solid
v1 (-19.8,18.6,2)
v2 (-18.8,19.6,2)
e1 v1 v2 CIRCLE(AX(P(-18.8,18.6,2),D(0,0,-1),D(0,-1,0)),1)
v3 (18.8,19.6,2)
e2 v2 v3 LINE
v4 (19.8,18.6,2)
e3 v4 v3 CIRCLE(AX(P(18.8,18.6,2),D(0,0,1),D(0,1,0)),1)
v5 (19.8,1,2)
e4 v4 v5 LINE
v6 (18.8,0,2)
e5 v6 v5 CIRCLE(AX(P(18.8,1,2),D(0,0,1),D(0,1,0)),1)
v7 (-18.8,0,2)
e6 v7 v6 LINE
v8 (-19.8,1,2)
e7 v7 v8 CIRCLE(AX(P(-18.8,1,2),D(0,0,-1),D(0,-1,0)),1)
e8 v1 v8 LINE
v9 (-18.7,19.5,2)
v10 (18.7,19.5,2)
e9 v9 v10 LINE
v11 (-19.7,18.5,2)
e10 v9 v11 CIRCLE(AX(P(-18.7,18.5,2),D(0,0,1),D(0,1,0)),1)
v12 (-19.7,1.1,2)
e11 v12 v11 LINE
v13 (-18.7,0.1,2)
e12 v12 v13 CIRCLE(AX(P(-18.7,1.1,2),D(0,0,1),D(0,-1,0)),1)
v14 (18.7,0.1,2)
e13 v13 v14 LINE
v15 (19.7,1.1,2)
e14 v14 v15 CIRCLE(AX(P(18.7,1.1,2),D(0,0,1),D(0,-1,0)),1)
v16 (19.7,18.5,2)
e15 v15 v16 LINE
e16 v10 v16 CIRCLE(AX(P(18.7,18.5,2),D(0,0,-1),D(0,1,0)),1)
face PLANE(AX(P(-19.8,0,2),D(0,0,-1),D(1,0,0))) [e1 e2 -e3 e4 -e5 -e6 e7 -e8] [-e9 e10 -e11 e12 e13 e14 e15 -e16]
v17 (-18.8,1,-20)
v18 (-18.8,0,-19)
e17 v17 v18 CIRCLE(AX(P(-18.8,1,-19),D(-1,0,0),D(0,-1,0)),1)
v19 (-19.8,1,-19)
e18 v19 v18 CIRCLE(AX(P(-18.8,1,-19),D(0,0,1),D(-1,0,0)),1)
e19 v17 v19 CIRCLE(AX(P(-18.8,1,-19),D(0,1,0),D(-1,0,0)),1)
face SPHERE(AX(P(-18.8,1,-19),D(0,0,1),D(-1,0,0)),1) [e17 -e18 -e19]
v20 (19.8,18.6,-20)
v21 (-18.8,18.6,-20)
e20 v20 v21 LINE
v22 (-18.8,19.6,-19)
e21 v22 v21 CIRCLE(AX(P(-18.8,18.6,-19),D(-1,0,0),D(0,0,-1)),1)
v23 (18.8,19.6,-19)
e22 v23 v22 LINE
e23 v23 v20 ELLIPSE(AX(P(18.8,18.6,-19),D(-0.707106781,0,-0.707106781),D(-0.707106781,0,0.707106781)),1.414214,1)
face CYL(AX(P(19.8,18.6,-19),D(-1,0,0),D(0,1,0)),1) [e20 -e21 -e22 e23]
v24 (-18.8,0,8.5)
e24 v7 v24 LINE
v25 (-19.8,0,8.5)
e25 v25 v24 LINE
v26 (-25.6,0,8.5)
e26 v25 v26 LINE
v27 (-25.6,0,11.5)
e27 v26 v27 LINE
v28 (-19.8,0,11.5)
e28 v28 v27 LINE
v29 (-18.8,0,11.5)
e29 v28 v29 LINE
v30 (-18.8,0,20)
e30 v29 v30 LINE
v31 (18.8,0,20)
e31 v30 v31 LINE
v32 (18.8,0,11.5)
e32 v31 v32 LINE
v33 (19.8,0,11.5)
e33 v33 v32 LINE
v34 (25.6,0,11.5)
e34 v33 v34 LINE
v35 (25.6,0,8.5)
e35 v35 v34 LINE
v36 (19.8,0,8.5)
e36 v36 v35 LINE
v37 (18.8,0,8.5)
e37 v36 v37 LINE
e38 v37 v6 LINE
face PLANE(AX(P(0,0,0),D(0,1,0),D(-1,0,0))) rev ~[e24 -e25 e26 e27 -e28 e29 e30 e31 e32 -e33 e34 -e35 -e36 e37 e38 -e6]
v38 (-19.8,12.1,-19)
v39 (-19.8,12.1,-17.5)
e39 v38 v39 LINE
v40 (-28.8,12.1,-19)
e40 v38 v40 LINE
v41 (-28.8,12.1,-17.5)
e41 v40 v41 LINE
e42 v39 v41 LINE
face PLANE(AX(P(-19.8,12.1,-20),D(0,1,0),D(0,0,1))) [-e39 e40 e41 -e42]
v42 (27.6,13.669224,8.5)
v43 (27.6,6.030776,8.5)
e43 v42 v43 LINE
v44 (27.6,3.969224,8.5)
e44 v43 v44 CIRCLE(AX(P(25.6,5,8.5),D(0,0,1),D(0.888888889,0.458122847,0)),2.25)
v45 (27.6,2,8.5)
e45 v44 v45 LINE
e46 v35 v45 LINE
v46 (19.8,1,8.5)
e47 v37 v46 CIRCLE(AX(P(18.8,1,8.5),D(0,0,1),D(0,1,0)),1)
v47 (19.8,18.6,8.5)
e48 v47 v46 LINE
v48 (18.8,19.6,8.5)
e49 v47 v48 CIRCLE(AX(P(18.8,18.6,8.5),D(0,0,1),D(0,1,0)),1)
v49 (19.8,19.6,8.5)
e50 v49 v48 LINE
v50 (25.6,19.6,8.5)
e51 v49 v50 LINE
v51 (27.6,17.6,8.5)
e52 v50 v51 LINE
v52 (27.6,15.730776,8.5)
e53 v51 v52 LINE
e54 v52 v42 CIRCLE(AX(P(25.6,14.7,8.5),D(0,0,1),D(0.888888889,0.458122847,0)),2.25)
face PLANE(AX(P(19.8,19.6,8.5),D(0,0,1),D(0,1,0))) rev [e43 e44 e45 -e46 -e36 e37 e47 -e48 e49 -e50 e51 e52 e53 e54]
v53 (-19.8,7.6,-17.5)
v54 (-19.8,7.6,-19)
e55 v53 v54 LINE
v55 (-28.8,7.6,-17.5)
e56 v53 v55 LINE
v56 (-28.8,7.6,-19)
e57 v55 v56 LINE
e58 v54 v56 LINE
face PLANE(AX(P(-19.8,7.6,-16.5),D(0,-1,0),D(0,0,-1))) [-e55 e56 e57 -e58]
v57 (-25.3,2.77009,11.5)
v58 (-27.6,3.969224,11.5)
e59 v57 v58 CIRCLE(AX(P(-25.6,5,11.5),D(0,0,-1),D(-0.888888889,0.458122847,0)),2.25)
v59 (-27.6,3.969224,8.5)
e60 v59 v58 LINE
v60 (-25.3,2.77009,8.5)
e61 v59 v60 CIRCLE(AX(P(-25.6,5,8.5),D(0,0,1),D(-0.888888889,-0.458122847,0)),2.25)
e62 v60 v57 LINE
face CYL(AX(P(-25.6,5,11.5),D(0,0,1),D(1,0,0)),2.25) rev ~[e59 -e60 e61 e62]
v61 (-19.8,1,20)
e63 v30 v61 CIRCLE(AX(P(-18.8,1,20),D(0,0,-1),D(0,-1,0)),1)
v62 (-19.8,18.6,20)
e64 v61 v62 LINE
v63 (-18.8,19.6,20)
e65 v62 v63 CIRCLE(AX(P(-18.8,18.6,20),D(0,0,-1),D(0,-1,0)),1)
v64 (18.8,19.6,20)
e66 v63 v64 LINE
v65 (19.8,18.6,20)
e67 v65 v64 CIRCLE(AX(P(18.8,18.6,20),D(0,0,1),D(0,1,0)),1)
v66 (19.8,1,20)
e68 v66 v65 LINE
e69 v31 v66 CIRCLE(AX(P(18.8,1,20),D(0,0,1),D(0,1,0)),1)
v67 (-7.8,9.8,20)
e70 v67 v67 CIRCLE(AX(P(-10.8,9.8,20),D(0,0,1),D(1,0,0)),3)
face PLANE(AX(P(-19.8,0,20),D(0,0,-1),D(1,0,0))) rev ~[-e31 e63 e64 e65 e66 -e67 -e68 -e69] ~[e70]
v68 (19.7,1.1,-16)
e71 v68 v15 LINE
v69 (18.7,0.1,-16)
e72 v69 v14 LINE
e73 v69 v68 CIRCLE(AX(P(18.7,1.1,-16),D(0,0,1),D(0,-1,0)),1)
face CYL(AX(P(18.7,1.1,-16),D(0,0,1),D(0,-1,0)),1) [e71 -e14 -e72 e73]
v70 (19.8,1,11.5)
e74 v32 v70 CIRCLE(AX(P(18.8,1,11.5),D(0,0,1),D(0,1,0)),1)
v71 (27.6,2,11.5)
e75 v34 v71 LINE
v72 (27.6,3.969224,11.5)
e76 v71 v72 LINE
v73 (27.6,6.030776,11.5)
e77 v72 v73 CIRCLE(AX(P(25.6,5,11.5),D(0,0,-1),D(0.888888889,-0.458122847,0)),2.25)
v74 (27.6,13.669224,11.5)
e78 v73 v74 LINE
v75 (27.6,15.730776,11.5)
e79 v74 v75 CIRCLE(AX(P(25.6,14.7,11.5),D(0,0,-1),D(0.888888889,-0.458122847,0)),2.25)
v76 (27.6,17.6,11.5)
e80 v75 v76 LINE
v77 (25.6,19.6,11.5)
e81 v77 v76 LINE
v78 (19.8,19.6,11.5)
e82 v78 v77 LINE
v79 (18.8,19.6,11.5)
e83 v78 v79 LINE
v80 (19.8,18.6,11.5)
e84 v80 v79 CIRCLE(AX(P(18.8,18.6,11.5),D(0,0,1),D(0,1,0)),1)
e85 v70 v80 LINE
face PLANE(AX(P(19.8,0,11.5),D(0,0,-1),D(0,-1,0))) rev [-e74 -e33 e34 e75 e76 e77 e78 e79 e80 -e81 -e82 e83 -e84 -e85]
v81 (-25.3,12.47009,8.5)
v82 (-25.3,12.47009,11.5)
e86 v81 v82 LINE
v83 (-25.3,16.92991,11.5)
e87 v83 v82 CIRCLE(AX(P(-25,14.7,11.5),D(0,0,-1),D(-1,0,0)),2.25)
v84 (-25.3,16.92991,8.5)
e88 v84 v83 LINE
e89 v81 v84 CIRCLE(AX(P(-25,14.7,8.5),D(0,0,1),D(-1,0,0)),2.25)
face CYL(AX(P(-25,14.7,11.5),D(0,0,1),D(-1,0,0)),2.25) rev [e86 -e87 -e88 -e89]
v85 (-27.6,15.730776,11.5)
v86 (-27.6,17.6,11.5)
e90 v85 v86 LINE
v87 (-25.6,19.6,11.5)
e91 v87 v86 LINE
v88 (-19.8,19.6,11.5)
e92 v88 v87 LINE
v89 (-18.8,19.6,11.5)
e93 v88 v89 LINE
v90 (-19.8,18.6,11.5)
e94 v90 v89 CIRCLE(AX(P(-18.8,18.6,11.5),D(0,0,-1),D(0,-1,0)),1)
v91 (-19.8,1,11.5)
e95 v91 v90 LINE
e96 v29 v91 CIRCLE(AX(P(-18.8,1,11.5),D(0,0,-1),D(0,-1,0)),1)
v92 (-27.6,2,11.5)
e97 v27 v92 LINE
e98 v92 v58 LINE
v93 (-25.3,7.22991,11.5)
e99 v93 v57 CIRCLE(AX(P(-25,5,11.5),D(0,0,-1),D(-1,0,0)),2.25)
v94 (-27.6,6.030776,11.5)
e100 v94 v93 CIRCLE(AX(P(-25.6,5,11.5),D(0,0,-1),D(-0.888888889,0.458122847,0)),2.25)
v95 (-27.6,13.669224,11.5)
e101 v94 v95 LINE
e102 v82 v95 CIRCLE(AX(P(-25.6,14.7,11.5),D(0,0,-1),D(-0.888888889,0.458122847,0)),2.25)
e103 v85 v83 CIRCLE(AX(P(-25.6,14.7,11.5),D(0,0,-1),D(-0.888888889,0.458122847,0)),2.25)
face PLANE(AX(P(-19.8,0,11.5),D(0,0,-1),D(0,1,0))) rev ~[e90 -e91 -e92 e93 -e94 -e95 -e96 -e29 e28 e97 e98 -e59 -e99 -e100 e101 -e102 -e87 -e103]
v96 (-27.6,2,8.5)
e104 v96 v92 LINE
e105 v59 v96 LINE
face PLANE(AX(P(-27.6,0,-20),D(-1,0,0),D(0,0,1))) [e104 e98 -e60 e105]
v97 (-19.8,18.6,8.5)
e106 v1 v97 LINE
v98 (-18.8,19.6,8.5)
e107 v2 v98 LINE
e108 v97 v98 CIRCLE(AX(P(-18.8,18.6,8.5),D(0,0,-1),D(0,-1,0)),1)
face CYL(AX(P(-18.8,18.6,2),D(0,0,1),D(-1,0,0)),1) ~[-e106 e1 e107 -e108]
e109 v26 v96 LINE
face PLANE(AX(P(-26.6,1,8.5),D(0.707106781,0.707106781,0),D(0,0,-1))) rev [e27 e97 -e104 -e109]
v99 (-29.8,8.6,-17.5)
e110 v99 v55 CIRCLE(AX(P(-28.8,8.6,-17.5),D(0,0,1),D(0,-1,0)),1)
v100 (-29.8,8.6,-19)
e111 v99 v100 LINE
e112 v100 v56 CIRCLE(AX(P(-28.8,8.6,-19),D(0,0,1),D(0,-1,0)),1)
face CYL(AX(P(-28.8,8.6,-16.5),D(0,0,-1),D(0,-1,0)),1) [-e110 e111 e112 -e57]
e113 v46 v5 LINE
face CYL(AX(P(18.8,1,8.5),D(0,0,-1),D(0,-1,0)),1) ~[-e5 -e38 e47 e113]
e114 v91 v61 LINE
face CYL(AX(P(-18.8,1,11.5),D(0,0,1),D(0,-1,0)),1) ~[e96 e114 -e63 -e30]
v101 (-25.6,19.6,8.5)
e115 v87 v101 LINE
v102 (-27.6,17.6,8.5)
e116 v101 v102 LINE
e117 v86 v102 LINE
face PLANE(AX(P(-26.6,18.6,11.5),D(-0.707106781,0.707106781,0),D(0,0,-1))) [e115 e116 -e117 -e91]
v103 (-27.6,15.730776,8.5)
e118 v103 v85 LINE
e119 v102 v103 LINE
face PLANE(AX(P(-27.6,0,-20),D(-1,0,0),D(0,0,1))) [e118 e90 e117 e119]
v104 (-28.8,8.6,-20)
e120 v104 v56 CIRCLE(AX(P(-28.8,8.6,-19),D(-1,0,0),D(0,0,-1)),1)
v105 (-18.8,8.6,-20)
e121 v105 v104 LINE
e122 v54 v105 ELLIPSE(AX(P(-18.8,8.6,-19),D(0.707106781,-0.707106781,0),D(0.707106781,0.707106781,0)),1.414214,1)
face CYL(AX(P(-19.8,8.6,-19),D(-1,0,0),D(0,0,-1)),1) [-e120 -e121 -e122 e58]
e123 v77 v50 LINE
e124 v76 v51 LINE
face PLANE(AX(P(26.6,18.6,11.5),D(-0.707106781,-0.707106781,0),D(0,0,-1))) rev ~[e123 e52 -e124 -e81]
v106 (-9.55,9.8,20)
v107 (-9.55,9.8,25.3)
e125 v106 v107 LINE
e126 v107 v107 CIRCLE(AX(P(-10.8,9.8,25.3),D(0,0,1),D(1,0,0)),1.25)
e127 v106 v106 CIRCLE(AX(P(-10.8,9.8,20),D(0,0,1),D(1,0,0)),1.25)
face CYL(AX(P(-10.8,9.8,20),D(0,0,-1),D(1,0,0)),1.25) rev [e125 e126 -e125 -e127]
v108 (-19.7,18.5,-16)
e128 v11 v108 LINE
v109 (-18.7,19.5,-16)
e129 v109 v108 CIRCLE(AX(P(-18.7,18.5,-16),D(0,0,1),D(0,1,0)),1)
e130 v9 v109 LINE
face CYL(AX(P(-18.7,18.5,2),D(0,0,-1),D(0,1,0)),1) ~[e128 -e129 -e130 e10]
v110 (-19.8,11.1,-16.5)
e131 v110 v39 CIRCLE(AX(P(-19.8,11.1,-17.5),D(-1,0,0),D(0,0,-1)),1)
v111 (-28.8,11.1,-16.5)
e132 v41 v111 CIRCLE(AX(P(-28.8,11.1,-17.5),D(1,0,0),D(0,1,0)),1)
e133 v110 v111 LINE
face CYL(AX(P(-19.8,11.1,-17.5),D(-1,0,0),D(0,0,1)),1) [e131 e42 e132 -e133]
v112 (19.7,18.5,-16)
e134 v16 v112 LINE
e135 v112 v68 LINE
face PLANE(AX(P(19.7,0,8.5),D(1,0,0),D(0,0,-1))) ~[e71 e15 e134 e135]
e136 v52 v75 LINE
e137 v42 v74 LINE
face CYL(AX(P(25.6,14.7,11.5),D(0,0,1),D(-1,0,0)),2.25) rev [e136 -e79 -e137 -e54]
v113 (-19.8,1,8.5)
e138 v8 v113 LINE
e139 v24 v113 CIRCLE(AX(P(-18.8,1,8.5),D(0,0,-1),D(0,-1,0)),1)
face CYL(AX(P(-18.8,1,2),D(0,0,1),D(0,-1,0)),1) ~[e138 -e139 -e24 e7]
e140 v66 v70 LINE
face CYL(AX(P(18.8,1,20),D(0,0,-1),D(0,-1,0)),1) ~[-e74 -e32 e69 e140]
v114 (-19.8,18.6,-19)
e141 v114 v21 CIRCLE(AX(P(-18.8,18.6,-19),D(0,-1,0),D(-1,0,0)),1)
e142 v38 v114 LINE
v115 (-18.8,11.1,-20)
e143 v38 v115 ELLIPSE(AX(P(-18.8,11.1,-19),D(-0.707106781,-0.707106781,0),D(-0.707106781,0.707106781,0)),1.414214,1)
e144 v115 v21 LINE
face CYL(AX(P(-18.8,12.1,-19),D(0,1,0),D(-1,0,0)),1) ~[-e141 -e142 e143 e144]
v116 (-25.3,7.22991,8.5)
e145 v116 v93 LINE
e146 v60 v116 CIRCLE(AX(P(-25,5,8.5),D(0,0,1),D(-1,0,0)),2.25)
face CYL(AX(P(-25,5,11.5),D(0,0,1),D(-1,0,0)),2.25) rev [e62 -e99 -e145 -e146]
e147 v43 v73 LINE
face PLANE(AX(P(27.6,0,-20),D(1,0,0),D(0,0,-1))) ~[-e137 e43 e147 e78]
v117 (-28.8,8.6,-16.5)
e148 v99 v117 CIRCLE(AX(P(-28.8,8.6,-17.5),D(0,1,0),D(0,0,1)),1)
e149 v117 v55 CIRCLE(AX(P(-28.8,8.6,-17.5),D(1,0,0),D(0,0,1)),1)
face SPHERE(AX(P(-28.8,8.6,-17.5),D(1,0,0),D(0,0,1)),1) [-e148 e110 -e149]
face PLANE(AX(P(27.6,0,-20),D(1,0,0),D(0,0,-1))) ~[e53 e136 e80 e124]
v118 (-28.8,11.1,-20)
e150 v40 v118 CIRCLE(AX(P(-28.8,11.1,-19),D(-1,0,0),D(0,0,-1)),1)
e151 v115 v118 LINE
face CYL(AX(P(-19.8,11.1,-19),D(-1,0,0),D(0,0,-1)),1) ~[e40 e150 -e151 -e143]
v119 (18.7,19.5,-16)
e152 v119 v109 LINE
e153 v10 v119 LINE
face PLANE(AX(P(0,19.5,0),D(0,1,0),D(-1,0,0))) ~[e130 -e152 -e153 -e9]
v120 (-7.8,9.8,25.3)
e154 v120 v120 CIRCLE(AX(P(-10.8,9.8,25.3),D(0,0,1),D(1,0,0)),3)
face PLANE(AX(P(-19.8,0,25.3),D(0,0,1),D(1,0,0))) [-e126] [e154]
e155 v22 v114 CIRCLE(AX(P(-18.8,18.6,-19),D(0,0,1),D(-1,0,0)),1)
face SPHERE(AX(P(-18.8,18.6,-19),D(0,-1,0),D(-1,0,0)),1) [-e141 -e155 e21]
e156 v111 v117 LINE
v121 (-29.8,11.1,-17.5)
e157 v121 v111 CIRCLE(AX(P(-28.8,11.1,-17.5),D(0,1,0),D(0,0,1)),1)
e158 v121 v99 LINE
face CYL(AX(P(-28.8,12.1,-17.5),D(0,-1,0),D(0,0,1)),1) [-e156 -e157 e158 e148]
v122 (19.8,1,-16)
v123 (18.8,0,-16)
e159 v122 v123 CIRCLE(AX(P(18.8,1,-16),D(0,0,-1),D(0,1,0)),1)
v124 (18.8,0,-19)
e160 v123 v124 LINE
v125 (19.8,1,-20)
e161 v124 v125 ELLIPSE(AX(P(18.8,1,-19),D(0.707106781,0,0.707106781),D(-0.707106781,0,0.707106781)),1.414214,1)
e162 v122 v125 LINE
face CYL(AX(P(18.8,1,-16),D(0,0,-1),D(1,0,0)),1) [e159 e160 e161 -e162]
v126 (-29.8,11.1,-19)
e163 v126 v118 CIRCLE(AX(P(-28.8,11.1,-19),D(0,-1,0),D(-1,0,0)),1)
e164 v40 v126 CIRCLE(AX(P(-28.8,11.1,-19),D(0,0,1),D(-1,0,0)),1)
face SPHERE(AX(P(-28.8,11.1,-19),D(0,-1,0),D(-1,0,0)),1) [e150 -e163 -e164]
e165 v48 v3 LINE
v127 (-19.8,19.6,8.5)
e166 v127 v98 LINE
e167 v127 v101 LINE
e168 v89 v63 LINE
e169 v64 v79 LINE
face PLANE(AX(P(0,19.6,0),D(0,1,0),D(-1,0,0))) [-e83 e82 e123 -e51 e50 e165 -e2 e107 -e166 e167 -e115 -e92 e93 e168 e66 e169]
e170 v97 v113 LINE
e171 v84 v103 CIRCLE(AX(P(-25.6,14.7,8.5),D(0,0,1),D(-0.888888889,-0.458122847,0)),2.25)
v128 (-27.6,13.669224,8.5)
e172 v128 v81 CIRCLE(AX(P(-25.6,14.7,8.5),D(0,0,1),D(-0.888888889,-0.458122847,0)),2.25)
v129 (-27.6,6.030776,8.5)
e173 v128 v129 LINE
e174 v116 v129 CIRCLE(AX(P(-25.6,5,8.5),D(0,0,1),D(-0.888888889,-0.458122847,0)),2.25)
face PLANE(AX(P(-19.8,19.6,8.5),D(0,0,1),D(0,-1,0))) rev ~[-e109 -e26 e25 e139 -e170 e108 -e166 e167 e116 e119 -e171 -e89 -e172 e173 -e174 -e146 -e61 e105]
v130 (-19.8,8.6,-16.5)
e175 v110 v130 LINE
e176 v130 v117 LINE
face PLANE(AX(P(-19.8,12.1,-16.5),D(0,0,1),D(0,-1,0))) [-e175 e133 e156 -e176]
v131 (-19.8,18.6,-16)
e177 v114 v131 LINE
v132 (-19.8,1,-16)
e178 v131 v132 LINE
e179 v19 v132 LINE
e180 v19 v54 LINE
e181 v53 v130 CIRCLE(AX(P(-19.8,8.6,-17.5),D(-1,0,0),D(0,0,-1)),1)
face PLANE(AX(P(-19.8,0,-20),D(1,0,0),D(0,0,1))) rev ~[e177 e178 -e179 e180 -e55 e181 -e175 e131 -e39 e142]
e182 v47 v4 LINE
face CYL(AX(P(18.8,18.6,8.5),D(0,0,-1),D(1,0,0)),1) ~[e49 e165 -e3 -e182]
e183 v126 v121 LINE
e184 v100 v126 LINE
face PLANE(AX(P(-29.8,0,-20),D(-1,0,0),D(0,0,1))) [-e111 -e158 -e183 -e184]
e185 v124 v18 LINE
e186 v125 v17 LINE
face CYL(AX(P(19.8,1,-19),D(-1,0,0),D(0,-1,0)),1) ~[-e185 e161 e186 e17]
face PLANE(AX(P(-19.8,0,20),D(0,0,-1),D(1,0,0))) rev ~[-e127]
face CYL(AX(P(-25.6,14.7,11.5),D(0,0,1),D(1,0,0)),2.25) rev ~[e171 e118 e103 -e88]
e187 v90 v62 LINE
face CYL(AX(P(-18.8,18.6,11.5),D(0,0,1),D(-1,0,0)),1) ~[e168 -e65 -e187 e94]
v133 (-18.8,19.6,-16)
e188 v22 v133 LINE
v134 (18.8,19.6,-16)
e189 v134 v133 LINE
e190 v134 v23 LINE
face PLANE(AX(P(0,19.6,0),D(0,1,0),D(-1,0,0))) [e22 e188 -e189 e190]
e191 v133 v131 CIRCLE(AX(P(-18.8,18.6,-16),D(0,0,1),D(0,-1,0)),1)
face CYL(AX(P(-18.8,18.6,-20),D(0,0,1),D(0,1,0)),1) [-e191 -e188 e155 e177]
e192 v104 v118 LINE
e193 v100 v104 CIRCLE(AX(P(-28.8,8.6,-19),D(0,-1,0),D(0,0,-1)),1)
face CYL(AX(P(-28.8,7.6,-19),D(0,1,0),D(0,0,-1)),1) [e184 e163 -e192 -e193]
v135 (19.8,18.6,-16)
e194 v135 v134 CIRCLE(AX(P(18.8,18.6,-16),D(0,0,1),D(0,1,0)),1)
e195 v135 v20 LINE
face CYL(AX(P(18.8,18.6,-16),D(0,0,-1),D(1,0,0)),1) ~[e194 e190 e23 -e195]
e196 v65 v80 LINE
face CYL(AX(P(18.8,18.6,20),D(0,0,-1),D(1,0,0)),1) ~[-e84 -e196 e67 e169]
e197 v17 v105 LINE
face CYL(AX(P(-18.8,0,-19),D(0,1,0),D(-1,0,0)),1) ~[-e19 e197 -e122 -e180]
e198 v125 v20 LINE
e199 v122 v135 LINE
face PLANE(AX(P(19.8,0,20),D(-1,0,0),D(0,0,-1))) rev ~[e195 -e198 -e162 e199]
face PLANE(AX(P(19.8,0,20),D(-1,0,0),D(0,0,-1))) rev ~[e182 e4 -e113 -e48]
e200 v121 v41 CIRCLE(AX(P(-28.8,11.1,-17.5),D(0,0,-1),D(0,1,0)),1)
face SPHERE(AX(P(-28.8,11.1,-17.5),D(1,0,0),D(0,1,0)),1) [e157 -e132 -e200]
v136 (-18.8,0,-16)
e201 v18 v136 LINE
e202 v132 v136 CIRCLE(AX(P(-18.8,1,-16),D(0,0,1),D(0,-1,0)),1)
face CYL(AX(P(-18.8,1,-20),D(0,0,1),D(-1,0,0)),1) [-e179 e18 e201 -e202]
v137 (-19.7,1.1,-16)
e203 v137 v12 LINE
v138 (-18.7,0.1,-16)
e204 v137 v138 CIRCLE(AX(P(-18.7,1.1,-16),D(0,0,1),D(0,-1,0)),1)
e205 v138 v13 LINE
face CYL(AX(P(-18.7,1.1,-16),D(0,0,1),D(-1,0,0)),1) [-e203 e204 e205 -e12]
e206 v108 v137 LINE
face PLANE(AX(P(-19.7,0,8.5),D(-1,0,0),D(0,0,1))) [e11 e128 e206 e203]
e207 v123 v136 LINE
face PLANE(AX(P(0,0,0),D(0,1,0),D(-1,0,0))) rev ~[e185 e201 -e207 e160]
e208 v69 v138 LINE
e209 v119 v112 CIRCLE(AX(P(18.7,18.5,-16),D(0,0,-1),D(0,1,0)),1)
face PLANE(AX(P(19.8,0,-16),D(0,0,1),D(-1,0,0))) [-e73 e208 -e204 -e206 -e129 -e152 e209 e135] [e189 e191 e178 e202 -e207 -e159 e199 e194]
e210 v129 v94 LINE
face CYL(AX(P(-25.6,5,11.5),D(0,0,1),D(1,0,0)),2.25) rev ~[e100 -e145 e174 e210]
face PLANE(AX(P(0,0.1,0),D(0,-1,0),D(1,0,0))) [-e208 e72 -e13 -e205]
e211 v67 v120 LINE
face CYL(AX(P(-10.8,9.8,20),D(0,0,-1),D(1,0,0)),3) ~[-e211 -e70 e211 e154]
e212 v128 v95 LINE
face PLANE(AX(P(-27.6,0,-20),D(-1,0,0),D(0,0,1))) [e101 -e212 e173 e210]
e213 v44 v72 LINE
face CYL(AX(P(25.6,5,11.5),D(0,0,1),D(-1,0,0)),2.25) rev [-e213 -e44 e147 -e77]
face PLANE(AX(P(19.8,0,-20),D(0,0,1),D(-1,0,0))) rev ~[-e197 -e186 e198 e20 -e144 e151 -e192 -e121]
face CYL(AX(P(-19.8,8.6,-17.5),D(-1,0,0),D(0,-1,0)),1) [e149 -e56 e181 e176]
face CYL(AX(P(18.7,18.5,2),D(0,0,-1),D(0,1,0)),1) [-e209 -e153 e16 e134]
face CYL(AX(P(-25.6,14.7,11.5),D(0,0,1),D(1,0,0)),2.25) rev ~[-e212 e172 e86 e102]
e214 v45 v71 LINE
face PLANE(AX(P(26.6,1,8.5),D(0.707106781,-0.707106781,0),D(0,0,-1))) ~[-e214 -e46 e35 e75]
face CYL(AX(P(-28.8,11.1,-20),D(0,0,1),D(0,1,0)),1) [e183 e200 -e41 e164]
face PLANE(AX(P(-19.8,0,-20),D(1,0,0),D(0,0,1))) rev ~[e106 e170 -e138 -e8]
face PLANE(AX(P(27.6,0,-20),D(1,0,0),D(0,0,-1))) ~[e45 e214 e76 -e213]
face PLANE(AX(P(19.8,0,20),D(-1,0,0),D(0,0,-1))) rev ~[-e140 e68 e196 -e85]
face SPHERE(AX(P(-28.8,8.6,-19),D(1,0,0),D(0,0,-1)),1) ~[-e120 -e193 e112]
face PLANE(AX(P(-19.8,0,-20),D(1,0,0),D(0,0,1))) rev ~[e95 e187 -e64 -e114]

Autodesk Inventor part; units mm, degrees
ref_plane "YZ Plane" through (0, 0, 0) normal (1, 0, 0) x (0, 1, 0)
sketch "Sketch1" plane through (0, 0, 0) normal (0, 1, 0) x (-1, 0, 0)
  line L0 (-19.8, -20) -> (19.8, -20)
  line L1 (19.8, -20) -> (19.8, 20)
  line L2 (19.8, 20) -> (-19.8, 20)
  line L3 (-19.8, 20) -> (-19.8, -20)
  line L4 (-19.8, -20) -> (19.8, 20) construction
  line L5 (19.8, -20) -> (-19.8, 20) construction
  point P0 (0, 0)
  dimension "d0" = 39.6
  dimension "d1" = 40
extrude "Extrusion1" add sketch "Sketch1" along normal blind 19.6
sketch "Sketch2" plane through (-19.8, 0, -20) normal (-1, 0, 0) x (0, 0, 1)
  line L0 (31.5, 19.6) -> (28.5, 19.6)
  line L1 (28.5, 19.6) -> (28.5, 0)
  line L2 (28.5, 0) -> (31.5, 0)
  line L3 (31.5, 0) -> (31.5, 19.6)
  line L4 (0, 0) -> (0, 19.6) projected
  line L5 (0, 0) -> (40, 0) projected
  line L6 (0, 19.6) -> (40, 19.6) projected
  point P0 (20, 0)
  dimension "d4" = 28.5
  dimension "d5" = 3
  dimension "d6" = 0
  dimension "d7" = 0
extrude "Extrusion2" add sketch "Sketch2" along normal blind 7.8 contours L3 L2 L1 L0
sketch "Sketch4" plane through (-19.8, 0, 20) normal (0, 0, 1) x (1, 0, 0)
  circle A0 centre (9, 9.8) radius 3
  line L0 (0, 0) -> (39.6, 0) projected
  line L1 (0, 19.6) -> (39.6, 19.6) projected
  circle A1 centre (9, 9.8) radius 1.25
  line L2 (0, 0) -> (0, 19.6) projected
  line L3 (12, 3.6087) -> (12, 15.8306)
  point P0 (19.8, 0)
  dimension "d12" = 9.8
  dimension "d13" = 19.6
  dimension "d14" = 6
  dimension "d15" = 2.5
  dimension "d35" = 9
  dimension "d36" = 12
extrude "Extrusion4" add sketch "Sketch4" along normal blind 5.3
ref_plane "Work Plane1" through (19.8, 0, 11.5) normal (0, 0, 1) x (1, 0, 0)
sketch "Sketch5" plane through (19.8, 0, 11.5) normal (0, 0, 1) x (1, 0, 0)
  circle A0 centre (5.2, 5) radius 2.25
  line L0 (-47.4, 0) -> (-47.4, 19.7) projected
  line L1 (6.2685, 9.85) -> (-43.2578, 9.85)
  line L2 (-20.1, 2.75) -> (-20.1, 17.4196)
  circle A1 centre (5.2, 14.7) radius 2.25
  circle A2 centre (-45.4, 5) radius 2.25
  circle A3 centre (-45.4, 14.7) radius 2.25
  line L3 (0, 0) -> (0, 19.6) projected
  line L4 (-39.6, 0) -> (0, 0) projected
  point P0 (-19.8, 0)
  dimension "d18" = 4.5
  dimension "d41" = 5.2
  dimension "d42" = 5
  dimension "d43" = 9.7
extrude "Extrusion5" cut sketch "Sketch5" against normal blind 5
chamfer "Chamfer1" distance 2 angle 45 2 edges at (-27.6, 19.6, 10) (-27.6, 0, 10)
mirror "Mirror1" about plane through (0, 0, 0) normal (1, 0, 0) of "Extrusion2"
chamfer "Chamfer3" distance 2 angle 45 2 edges at (27.6, 19.6, 10) (27.6, 0, 10)
mirror "Mirror2" about plane through (0, 0, 0) normal (1, 0, 0) of "Extrusion5"
sketch "Sketch7" plane through (-19.8, 0, -20) normal (-1, 0, 0) x (0, 0, 1)
  line L0 (0, 0) -> (0, 19.6) projected
  line L1 (0, 12.1) -> (3.5, 12.1)
  line L2 (3.5, 12.1) -> (3.5, 7.6)
  line L3 (3.5, 7.6) -> (0, 7.6)
  line L4 (0, 7.6) -> (0, 12.1)
  line L5 (0, 0) -> (28.5, 0) projected
  line L6 (28.5, 19.7) -> (0, 19.7) projected
  line L7 (13.8096, 9.85) -> (-5.6461, 9.85) construction
  point P0 (20, 0)
  point P1 (0, 18.7)
  dimension "d44" = 4.5
  dimension "d45" = 19.7
  dimension "d46" = 9.85
  dimension "d47" = 3.5
extrude "Extrusion6" add sketch "Sketch7" along normal blind 10
sketch "Sketch8" plane through (0, 0, 0) normal (0, -1, 0) x (1, 0, 0)
  line L0 (-19.8, 2) -> (19.8, 2)
  line L1 (19.8, 2) -> (19.8, -16)
  line L2 (19.8, -16) -> (-19.8, -16)
  line L3 (-19.8, -16) -> (-19.8, 2)
  line L4 (19.8, -20) -> (-19.8, -20) projected
  line L5 (-19.8, -20) -> (-19.8, 8.5) projected
  line L6 (19.8, 8.5) -> (19.8, -20) projected
  point P0 (0, 0)
  dimension "d52" = 18
  dimension "d55" = 4
extrude "Extrusion7" cut sketch "Sketch8" against normal blind 0.1 contours L0 L1 L2 L3
ref_plane "Work Plane2" through (0, 9.8, 0) normal (0, -1, 0) x (1, 0, 0)
mirror "Mirror3" about plane through (0, 9.8, 0) normal (0, -1, 0) of "Extrusion7"
sketch "Sketch9" plane through (-19.8, 0, 8.5) normal (-1, 0, 0) x (0, 0, 1)
  line L0 (-6.5, 19.6) -> (-6.5, 19.5) projected
  line L1 (-24.5, 0.1) -> (-6.5, 0.1) projected
  line L2 (-6.5, 19.5) -> (-24.5, 19.5)
  line L3 (-24.5, 19.5) -> (-24.5, 0.1)
  line L4 (-24.5, 0.1) -> (-6.5, 0.1)
  line L5 (-6.5, 0.1) -> (-6.5, 19.5)
  point P0 (-8.5, 0)
extrude "Extrusion8" cut sketch "Sketch9" against normal blind 0.1
mirror "Mirror4" about plane through (0, 0, 0) normal (1, 0, 0) of "Extrusion8"
fillet "Fillet5" radius 1 28 edges at (-19.8, 0, 5.25) (-19.7, 0.1, -7) (-19.8, 0, 15.75) (-19.8, 0, -18) (-19.8, 3.8, -20) (0, 0, -20) (-19.8, 15.85, -20) (-24.8, 12.1, -16.5) (-24.8, 7.6, -16.5) (-24.8, 7.6, -20) (-29.8, 9.85, -20) (-29.8, 12.1, -18.25) (-24.8, 12.1, -20) (-29.8, 9.85, -16.5) (-29.8, 7.6, -18.25) (-19.8, 19.6, -18) (-19.7, 19.5, -7) (-19.8, 19.6, 5.25) (-19.8, 19.6, 15.75) (0, 19.6, -20) (19.8, 19.6, -18) (19.7, 19.5, -7) (19.8, 19.6, 5.25) (19.8, 19.6, 15.75) (19.8, 0, -18) (19.7, 0.1, -7) (19.8, 0, 5.25) (19.8, 0, 15.75)
equation "\"d12\" = 0.5 * d13"
equation "\"d46\" = 0.5 * d45"
properties part number "Trackstar_Servo_TS411MG"
